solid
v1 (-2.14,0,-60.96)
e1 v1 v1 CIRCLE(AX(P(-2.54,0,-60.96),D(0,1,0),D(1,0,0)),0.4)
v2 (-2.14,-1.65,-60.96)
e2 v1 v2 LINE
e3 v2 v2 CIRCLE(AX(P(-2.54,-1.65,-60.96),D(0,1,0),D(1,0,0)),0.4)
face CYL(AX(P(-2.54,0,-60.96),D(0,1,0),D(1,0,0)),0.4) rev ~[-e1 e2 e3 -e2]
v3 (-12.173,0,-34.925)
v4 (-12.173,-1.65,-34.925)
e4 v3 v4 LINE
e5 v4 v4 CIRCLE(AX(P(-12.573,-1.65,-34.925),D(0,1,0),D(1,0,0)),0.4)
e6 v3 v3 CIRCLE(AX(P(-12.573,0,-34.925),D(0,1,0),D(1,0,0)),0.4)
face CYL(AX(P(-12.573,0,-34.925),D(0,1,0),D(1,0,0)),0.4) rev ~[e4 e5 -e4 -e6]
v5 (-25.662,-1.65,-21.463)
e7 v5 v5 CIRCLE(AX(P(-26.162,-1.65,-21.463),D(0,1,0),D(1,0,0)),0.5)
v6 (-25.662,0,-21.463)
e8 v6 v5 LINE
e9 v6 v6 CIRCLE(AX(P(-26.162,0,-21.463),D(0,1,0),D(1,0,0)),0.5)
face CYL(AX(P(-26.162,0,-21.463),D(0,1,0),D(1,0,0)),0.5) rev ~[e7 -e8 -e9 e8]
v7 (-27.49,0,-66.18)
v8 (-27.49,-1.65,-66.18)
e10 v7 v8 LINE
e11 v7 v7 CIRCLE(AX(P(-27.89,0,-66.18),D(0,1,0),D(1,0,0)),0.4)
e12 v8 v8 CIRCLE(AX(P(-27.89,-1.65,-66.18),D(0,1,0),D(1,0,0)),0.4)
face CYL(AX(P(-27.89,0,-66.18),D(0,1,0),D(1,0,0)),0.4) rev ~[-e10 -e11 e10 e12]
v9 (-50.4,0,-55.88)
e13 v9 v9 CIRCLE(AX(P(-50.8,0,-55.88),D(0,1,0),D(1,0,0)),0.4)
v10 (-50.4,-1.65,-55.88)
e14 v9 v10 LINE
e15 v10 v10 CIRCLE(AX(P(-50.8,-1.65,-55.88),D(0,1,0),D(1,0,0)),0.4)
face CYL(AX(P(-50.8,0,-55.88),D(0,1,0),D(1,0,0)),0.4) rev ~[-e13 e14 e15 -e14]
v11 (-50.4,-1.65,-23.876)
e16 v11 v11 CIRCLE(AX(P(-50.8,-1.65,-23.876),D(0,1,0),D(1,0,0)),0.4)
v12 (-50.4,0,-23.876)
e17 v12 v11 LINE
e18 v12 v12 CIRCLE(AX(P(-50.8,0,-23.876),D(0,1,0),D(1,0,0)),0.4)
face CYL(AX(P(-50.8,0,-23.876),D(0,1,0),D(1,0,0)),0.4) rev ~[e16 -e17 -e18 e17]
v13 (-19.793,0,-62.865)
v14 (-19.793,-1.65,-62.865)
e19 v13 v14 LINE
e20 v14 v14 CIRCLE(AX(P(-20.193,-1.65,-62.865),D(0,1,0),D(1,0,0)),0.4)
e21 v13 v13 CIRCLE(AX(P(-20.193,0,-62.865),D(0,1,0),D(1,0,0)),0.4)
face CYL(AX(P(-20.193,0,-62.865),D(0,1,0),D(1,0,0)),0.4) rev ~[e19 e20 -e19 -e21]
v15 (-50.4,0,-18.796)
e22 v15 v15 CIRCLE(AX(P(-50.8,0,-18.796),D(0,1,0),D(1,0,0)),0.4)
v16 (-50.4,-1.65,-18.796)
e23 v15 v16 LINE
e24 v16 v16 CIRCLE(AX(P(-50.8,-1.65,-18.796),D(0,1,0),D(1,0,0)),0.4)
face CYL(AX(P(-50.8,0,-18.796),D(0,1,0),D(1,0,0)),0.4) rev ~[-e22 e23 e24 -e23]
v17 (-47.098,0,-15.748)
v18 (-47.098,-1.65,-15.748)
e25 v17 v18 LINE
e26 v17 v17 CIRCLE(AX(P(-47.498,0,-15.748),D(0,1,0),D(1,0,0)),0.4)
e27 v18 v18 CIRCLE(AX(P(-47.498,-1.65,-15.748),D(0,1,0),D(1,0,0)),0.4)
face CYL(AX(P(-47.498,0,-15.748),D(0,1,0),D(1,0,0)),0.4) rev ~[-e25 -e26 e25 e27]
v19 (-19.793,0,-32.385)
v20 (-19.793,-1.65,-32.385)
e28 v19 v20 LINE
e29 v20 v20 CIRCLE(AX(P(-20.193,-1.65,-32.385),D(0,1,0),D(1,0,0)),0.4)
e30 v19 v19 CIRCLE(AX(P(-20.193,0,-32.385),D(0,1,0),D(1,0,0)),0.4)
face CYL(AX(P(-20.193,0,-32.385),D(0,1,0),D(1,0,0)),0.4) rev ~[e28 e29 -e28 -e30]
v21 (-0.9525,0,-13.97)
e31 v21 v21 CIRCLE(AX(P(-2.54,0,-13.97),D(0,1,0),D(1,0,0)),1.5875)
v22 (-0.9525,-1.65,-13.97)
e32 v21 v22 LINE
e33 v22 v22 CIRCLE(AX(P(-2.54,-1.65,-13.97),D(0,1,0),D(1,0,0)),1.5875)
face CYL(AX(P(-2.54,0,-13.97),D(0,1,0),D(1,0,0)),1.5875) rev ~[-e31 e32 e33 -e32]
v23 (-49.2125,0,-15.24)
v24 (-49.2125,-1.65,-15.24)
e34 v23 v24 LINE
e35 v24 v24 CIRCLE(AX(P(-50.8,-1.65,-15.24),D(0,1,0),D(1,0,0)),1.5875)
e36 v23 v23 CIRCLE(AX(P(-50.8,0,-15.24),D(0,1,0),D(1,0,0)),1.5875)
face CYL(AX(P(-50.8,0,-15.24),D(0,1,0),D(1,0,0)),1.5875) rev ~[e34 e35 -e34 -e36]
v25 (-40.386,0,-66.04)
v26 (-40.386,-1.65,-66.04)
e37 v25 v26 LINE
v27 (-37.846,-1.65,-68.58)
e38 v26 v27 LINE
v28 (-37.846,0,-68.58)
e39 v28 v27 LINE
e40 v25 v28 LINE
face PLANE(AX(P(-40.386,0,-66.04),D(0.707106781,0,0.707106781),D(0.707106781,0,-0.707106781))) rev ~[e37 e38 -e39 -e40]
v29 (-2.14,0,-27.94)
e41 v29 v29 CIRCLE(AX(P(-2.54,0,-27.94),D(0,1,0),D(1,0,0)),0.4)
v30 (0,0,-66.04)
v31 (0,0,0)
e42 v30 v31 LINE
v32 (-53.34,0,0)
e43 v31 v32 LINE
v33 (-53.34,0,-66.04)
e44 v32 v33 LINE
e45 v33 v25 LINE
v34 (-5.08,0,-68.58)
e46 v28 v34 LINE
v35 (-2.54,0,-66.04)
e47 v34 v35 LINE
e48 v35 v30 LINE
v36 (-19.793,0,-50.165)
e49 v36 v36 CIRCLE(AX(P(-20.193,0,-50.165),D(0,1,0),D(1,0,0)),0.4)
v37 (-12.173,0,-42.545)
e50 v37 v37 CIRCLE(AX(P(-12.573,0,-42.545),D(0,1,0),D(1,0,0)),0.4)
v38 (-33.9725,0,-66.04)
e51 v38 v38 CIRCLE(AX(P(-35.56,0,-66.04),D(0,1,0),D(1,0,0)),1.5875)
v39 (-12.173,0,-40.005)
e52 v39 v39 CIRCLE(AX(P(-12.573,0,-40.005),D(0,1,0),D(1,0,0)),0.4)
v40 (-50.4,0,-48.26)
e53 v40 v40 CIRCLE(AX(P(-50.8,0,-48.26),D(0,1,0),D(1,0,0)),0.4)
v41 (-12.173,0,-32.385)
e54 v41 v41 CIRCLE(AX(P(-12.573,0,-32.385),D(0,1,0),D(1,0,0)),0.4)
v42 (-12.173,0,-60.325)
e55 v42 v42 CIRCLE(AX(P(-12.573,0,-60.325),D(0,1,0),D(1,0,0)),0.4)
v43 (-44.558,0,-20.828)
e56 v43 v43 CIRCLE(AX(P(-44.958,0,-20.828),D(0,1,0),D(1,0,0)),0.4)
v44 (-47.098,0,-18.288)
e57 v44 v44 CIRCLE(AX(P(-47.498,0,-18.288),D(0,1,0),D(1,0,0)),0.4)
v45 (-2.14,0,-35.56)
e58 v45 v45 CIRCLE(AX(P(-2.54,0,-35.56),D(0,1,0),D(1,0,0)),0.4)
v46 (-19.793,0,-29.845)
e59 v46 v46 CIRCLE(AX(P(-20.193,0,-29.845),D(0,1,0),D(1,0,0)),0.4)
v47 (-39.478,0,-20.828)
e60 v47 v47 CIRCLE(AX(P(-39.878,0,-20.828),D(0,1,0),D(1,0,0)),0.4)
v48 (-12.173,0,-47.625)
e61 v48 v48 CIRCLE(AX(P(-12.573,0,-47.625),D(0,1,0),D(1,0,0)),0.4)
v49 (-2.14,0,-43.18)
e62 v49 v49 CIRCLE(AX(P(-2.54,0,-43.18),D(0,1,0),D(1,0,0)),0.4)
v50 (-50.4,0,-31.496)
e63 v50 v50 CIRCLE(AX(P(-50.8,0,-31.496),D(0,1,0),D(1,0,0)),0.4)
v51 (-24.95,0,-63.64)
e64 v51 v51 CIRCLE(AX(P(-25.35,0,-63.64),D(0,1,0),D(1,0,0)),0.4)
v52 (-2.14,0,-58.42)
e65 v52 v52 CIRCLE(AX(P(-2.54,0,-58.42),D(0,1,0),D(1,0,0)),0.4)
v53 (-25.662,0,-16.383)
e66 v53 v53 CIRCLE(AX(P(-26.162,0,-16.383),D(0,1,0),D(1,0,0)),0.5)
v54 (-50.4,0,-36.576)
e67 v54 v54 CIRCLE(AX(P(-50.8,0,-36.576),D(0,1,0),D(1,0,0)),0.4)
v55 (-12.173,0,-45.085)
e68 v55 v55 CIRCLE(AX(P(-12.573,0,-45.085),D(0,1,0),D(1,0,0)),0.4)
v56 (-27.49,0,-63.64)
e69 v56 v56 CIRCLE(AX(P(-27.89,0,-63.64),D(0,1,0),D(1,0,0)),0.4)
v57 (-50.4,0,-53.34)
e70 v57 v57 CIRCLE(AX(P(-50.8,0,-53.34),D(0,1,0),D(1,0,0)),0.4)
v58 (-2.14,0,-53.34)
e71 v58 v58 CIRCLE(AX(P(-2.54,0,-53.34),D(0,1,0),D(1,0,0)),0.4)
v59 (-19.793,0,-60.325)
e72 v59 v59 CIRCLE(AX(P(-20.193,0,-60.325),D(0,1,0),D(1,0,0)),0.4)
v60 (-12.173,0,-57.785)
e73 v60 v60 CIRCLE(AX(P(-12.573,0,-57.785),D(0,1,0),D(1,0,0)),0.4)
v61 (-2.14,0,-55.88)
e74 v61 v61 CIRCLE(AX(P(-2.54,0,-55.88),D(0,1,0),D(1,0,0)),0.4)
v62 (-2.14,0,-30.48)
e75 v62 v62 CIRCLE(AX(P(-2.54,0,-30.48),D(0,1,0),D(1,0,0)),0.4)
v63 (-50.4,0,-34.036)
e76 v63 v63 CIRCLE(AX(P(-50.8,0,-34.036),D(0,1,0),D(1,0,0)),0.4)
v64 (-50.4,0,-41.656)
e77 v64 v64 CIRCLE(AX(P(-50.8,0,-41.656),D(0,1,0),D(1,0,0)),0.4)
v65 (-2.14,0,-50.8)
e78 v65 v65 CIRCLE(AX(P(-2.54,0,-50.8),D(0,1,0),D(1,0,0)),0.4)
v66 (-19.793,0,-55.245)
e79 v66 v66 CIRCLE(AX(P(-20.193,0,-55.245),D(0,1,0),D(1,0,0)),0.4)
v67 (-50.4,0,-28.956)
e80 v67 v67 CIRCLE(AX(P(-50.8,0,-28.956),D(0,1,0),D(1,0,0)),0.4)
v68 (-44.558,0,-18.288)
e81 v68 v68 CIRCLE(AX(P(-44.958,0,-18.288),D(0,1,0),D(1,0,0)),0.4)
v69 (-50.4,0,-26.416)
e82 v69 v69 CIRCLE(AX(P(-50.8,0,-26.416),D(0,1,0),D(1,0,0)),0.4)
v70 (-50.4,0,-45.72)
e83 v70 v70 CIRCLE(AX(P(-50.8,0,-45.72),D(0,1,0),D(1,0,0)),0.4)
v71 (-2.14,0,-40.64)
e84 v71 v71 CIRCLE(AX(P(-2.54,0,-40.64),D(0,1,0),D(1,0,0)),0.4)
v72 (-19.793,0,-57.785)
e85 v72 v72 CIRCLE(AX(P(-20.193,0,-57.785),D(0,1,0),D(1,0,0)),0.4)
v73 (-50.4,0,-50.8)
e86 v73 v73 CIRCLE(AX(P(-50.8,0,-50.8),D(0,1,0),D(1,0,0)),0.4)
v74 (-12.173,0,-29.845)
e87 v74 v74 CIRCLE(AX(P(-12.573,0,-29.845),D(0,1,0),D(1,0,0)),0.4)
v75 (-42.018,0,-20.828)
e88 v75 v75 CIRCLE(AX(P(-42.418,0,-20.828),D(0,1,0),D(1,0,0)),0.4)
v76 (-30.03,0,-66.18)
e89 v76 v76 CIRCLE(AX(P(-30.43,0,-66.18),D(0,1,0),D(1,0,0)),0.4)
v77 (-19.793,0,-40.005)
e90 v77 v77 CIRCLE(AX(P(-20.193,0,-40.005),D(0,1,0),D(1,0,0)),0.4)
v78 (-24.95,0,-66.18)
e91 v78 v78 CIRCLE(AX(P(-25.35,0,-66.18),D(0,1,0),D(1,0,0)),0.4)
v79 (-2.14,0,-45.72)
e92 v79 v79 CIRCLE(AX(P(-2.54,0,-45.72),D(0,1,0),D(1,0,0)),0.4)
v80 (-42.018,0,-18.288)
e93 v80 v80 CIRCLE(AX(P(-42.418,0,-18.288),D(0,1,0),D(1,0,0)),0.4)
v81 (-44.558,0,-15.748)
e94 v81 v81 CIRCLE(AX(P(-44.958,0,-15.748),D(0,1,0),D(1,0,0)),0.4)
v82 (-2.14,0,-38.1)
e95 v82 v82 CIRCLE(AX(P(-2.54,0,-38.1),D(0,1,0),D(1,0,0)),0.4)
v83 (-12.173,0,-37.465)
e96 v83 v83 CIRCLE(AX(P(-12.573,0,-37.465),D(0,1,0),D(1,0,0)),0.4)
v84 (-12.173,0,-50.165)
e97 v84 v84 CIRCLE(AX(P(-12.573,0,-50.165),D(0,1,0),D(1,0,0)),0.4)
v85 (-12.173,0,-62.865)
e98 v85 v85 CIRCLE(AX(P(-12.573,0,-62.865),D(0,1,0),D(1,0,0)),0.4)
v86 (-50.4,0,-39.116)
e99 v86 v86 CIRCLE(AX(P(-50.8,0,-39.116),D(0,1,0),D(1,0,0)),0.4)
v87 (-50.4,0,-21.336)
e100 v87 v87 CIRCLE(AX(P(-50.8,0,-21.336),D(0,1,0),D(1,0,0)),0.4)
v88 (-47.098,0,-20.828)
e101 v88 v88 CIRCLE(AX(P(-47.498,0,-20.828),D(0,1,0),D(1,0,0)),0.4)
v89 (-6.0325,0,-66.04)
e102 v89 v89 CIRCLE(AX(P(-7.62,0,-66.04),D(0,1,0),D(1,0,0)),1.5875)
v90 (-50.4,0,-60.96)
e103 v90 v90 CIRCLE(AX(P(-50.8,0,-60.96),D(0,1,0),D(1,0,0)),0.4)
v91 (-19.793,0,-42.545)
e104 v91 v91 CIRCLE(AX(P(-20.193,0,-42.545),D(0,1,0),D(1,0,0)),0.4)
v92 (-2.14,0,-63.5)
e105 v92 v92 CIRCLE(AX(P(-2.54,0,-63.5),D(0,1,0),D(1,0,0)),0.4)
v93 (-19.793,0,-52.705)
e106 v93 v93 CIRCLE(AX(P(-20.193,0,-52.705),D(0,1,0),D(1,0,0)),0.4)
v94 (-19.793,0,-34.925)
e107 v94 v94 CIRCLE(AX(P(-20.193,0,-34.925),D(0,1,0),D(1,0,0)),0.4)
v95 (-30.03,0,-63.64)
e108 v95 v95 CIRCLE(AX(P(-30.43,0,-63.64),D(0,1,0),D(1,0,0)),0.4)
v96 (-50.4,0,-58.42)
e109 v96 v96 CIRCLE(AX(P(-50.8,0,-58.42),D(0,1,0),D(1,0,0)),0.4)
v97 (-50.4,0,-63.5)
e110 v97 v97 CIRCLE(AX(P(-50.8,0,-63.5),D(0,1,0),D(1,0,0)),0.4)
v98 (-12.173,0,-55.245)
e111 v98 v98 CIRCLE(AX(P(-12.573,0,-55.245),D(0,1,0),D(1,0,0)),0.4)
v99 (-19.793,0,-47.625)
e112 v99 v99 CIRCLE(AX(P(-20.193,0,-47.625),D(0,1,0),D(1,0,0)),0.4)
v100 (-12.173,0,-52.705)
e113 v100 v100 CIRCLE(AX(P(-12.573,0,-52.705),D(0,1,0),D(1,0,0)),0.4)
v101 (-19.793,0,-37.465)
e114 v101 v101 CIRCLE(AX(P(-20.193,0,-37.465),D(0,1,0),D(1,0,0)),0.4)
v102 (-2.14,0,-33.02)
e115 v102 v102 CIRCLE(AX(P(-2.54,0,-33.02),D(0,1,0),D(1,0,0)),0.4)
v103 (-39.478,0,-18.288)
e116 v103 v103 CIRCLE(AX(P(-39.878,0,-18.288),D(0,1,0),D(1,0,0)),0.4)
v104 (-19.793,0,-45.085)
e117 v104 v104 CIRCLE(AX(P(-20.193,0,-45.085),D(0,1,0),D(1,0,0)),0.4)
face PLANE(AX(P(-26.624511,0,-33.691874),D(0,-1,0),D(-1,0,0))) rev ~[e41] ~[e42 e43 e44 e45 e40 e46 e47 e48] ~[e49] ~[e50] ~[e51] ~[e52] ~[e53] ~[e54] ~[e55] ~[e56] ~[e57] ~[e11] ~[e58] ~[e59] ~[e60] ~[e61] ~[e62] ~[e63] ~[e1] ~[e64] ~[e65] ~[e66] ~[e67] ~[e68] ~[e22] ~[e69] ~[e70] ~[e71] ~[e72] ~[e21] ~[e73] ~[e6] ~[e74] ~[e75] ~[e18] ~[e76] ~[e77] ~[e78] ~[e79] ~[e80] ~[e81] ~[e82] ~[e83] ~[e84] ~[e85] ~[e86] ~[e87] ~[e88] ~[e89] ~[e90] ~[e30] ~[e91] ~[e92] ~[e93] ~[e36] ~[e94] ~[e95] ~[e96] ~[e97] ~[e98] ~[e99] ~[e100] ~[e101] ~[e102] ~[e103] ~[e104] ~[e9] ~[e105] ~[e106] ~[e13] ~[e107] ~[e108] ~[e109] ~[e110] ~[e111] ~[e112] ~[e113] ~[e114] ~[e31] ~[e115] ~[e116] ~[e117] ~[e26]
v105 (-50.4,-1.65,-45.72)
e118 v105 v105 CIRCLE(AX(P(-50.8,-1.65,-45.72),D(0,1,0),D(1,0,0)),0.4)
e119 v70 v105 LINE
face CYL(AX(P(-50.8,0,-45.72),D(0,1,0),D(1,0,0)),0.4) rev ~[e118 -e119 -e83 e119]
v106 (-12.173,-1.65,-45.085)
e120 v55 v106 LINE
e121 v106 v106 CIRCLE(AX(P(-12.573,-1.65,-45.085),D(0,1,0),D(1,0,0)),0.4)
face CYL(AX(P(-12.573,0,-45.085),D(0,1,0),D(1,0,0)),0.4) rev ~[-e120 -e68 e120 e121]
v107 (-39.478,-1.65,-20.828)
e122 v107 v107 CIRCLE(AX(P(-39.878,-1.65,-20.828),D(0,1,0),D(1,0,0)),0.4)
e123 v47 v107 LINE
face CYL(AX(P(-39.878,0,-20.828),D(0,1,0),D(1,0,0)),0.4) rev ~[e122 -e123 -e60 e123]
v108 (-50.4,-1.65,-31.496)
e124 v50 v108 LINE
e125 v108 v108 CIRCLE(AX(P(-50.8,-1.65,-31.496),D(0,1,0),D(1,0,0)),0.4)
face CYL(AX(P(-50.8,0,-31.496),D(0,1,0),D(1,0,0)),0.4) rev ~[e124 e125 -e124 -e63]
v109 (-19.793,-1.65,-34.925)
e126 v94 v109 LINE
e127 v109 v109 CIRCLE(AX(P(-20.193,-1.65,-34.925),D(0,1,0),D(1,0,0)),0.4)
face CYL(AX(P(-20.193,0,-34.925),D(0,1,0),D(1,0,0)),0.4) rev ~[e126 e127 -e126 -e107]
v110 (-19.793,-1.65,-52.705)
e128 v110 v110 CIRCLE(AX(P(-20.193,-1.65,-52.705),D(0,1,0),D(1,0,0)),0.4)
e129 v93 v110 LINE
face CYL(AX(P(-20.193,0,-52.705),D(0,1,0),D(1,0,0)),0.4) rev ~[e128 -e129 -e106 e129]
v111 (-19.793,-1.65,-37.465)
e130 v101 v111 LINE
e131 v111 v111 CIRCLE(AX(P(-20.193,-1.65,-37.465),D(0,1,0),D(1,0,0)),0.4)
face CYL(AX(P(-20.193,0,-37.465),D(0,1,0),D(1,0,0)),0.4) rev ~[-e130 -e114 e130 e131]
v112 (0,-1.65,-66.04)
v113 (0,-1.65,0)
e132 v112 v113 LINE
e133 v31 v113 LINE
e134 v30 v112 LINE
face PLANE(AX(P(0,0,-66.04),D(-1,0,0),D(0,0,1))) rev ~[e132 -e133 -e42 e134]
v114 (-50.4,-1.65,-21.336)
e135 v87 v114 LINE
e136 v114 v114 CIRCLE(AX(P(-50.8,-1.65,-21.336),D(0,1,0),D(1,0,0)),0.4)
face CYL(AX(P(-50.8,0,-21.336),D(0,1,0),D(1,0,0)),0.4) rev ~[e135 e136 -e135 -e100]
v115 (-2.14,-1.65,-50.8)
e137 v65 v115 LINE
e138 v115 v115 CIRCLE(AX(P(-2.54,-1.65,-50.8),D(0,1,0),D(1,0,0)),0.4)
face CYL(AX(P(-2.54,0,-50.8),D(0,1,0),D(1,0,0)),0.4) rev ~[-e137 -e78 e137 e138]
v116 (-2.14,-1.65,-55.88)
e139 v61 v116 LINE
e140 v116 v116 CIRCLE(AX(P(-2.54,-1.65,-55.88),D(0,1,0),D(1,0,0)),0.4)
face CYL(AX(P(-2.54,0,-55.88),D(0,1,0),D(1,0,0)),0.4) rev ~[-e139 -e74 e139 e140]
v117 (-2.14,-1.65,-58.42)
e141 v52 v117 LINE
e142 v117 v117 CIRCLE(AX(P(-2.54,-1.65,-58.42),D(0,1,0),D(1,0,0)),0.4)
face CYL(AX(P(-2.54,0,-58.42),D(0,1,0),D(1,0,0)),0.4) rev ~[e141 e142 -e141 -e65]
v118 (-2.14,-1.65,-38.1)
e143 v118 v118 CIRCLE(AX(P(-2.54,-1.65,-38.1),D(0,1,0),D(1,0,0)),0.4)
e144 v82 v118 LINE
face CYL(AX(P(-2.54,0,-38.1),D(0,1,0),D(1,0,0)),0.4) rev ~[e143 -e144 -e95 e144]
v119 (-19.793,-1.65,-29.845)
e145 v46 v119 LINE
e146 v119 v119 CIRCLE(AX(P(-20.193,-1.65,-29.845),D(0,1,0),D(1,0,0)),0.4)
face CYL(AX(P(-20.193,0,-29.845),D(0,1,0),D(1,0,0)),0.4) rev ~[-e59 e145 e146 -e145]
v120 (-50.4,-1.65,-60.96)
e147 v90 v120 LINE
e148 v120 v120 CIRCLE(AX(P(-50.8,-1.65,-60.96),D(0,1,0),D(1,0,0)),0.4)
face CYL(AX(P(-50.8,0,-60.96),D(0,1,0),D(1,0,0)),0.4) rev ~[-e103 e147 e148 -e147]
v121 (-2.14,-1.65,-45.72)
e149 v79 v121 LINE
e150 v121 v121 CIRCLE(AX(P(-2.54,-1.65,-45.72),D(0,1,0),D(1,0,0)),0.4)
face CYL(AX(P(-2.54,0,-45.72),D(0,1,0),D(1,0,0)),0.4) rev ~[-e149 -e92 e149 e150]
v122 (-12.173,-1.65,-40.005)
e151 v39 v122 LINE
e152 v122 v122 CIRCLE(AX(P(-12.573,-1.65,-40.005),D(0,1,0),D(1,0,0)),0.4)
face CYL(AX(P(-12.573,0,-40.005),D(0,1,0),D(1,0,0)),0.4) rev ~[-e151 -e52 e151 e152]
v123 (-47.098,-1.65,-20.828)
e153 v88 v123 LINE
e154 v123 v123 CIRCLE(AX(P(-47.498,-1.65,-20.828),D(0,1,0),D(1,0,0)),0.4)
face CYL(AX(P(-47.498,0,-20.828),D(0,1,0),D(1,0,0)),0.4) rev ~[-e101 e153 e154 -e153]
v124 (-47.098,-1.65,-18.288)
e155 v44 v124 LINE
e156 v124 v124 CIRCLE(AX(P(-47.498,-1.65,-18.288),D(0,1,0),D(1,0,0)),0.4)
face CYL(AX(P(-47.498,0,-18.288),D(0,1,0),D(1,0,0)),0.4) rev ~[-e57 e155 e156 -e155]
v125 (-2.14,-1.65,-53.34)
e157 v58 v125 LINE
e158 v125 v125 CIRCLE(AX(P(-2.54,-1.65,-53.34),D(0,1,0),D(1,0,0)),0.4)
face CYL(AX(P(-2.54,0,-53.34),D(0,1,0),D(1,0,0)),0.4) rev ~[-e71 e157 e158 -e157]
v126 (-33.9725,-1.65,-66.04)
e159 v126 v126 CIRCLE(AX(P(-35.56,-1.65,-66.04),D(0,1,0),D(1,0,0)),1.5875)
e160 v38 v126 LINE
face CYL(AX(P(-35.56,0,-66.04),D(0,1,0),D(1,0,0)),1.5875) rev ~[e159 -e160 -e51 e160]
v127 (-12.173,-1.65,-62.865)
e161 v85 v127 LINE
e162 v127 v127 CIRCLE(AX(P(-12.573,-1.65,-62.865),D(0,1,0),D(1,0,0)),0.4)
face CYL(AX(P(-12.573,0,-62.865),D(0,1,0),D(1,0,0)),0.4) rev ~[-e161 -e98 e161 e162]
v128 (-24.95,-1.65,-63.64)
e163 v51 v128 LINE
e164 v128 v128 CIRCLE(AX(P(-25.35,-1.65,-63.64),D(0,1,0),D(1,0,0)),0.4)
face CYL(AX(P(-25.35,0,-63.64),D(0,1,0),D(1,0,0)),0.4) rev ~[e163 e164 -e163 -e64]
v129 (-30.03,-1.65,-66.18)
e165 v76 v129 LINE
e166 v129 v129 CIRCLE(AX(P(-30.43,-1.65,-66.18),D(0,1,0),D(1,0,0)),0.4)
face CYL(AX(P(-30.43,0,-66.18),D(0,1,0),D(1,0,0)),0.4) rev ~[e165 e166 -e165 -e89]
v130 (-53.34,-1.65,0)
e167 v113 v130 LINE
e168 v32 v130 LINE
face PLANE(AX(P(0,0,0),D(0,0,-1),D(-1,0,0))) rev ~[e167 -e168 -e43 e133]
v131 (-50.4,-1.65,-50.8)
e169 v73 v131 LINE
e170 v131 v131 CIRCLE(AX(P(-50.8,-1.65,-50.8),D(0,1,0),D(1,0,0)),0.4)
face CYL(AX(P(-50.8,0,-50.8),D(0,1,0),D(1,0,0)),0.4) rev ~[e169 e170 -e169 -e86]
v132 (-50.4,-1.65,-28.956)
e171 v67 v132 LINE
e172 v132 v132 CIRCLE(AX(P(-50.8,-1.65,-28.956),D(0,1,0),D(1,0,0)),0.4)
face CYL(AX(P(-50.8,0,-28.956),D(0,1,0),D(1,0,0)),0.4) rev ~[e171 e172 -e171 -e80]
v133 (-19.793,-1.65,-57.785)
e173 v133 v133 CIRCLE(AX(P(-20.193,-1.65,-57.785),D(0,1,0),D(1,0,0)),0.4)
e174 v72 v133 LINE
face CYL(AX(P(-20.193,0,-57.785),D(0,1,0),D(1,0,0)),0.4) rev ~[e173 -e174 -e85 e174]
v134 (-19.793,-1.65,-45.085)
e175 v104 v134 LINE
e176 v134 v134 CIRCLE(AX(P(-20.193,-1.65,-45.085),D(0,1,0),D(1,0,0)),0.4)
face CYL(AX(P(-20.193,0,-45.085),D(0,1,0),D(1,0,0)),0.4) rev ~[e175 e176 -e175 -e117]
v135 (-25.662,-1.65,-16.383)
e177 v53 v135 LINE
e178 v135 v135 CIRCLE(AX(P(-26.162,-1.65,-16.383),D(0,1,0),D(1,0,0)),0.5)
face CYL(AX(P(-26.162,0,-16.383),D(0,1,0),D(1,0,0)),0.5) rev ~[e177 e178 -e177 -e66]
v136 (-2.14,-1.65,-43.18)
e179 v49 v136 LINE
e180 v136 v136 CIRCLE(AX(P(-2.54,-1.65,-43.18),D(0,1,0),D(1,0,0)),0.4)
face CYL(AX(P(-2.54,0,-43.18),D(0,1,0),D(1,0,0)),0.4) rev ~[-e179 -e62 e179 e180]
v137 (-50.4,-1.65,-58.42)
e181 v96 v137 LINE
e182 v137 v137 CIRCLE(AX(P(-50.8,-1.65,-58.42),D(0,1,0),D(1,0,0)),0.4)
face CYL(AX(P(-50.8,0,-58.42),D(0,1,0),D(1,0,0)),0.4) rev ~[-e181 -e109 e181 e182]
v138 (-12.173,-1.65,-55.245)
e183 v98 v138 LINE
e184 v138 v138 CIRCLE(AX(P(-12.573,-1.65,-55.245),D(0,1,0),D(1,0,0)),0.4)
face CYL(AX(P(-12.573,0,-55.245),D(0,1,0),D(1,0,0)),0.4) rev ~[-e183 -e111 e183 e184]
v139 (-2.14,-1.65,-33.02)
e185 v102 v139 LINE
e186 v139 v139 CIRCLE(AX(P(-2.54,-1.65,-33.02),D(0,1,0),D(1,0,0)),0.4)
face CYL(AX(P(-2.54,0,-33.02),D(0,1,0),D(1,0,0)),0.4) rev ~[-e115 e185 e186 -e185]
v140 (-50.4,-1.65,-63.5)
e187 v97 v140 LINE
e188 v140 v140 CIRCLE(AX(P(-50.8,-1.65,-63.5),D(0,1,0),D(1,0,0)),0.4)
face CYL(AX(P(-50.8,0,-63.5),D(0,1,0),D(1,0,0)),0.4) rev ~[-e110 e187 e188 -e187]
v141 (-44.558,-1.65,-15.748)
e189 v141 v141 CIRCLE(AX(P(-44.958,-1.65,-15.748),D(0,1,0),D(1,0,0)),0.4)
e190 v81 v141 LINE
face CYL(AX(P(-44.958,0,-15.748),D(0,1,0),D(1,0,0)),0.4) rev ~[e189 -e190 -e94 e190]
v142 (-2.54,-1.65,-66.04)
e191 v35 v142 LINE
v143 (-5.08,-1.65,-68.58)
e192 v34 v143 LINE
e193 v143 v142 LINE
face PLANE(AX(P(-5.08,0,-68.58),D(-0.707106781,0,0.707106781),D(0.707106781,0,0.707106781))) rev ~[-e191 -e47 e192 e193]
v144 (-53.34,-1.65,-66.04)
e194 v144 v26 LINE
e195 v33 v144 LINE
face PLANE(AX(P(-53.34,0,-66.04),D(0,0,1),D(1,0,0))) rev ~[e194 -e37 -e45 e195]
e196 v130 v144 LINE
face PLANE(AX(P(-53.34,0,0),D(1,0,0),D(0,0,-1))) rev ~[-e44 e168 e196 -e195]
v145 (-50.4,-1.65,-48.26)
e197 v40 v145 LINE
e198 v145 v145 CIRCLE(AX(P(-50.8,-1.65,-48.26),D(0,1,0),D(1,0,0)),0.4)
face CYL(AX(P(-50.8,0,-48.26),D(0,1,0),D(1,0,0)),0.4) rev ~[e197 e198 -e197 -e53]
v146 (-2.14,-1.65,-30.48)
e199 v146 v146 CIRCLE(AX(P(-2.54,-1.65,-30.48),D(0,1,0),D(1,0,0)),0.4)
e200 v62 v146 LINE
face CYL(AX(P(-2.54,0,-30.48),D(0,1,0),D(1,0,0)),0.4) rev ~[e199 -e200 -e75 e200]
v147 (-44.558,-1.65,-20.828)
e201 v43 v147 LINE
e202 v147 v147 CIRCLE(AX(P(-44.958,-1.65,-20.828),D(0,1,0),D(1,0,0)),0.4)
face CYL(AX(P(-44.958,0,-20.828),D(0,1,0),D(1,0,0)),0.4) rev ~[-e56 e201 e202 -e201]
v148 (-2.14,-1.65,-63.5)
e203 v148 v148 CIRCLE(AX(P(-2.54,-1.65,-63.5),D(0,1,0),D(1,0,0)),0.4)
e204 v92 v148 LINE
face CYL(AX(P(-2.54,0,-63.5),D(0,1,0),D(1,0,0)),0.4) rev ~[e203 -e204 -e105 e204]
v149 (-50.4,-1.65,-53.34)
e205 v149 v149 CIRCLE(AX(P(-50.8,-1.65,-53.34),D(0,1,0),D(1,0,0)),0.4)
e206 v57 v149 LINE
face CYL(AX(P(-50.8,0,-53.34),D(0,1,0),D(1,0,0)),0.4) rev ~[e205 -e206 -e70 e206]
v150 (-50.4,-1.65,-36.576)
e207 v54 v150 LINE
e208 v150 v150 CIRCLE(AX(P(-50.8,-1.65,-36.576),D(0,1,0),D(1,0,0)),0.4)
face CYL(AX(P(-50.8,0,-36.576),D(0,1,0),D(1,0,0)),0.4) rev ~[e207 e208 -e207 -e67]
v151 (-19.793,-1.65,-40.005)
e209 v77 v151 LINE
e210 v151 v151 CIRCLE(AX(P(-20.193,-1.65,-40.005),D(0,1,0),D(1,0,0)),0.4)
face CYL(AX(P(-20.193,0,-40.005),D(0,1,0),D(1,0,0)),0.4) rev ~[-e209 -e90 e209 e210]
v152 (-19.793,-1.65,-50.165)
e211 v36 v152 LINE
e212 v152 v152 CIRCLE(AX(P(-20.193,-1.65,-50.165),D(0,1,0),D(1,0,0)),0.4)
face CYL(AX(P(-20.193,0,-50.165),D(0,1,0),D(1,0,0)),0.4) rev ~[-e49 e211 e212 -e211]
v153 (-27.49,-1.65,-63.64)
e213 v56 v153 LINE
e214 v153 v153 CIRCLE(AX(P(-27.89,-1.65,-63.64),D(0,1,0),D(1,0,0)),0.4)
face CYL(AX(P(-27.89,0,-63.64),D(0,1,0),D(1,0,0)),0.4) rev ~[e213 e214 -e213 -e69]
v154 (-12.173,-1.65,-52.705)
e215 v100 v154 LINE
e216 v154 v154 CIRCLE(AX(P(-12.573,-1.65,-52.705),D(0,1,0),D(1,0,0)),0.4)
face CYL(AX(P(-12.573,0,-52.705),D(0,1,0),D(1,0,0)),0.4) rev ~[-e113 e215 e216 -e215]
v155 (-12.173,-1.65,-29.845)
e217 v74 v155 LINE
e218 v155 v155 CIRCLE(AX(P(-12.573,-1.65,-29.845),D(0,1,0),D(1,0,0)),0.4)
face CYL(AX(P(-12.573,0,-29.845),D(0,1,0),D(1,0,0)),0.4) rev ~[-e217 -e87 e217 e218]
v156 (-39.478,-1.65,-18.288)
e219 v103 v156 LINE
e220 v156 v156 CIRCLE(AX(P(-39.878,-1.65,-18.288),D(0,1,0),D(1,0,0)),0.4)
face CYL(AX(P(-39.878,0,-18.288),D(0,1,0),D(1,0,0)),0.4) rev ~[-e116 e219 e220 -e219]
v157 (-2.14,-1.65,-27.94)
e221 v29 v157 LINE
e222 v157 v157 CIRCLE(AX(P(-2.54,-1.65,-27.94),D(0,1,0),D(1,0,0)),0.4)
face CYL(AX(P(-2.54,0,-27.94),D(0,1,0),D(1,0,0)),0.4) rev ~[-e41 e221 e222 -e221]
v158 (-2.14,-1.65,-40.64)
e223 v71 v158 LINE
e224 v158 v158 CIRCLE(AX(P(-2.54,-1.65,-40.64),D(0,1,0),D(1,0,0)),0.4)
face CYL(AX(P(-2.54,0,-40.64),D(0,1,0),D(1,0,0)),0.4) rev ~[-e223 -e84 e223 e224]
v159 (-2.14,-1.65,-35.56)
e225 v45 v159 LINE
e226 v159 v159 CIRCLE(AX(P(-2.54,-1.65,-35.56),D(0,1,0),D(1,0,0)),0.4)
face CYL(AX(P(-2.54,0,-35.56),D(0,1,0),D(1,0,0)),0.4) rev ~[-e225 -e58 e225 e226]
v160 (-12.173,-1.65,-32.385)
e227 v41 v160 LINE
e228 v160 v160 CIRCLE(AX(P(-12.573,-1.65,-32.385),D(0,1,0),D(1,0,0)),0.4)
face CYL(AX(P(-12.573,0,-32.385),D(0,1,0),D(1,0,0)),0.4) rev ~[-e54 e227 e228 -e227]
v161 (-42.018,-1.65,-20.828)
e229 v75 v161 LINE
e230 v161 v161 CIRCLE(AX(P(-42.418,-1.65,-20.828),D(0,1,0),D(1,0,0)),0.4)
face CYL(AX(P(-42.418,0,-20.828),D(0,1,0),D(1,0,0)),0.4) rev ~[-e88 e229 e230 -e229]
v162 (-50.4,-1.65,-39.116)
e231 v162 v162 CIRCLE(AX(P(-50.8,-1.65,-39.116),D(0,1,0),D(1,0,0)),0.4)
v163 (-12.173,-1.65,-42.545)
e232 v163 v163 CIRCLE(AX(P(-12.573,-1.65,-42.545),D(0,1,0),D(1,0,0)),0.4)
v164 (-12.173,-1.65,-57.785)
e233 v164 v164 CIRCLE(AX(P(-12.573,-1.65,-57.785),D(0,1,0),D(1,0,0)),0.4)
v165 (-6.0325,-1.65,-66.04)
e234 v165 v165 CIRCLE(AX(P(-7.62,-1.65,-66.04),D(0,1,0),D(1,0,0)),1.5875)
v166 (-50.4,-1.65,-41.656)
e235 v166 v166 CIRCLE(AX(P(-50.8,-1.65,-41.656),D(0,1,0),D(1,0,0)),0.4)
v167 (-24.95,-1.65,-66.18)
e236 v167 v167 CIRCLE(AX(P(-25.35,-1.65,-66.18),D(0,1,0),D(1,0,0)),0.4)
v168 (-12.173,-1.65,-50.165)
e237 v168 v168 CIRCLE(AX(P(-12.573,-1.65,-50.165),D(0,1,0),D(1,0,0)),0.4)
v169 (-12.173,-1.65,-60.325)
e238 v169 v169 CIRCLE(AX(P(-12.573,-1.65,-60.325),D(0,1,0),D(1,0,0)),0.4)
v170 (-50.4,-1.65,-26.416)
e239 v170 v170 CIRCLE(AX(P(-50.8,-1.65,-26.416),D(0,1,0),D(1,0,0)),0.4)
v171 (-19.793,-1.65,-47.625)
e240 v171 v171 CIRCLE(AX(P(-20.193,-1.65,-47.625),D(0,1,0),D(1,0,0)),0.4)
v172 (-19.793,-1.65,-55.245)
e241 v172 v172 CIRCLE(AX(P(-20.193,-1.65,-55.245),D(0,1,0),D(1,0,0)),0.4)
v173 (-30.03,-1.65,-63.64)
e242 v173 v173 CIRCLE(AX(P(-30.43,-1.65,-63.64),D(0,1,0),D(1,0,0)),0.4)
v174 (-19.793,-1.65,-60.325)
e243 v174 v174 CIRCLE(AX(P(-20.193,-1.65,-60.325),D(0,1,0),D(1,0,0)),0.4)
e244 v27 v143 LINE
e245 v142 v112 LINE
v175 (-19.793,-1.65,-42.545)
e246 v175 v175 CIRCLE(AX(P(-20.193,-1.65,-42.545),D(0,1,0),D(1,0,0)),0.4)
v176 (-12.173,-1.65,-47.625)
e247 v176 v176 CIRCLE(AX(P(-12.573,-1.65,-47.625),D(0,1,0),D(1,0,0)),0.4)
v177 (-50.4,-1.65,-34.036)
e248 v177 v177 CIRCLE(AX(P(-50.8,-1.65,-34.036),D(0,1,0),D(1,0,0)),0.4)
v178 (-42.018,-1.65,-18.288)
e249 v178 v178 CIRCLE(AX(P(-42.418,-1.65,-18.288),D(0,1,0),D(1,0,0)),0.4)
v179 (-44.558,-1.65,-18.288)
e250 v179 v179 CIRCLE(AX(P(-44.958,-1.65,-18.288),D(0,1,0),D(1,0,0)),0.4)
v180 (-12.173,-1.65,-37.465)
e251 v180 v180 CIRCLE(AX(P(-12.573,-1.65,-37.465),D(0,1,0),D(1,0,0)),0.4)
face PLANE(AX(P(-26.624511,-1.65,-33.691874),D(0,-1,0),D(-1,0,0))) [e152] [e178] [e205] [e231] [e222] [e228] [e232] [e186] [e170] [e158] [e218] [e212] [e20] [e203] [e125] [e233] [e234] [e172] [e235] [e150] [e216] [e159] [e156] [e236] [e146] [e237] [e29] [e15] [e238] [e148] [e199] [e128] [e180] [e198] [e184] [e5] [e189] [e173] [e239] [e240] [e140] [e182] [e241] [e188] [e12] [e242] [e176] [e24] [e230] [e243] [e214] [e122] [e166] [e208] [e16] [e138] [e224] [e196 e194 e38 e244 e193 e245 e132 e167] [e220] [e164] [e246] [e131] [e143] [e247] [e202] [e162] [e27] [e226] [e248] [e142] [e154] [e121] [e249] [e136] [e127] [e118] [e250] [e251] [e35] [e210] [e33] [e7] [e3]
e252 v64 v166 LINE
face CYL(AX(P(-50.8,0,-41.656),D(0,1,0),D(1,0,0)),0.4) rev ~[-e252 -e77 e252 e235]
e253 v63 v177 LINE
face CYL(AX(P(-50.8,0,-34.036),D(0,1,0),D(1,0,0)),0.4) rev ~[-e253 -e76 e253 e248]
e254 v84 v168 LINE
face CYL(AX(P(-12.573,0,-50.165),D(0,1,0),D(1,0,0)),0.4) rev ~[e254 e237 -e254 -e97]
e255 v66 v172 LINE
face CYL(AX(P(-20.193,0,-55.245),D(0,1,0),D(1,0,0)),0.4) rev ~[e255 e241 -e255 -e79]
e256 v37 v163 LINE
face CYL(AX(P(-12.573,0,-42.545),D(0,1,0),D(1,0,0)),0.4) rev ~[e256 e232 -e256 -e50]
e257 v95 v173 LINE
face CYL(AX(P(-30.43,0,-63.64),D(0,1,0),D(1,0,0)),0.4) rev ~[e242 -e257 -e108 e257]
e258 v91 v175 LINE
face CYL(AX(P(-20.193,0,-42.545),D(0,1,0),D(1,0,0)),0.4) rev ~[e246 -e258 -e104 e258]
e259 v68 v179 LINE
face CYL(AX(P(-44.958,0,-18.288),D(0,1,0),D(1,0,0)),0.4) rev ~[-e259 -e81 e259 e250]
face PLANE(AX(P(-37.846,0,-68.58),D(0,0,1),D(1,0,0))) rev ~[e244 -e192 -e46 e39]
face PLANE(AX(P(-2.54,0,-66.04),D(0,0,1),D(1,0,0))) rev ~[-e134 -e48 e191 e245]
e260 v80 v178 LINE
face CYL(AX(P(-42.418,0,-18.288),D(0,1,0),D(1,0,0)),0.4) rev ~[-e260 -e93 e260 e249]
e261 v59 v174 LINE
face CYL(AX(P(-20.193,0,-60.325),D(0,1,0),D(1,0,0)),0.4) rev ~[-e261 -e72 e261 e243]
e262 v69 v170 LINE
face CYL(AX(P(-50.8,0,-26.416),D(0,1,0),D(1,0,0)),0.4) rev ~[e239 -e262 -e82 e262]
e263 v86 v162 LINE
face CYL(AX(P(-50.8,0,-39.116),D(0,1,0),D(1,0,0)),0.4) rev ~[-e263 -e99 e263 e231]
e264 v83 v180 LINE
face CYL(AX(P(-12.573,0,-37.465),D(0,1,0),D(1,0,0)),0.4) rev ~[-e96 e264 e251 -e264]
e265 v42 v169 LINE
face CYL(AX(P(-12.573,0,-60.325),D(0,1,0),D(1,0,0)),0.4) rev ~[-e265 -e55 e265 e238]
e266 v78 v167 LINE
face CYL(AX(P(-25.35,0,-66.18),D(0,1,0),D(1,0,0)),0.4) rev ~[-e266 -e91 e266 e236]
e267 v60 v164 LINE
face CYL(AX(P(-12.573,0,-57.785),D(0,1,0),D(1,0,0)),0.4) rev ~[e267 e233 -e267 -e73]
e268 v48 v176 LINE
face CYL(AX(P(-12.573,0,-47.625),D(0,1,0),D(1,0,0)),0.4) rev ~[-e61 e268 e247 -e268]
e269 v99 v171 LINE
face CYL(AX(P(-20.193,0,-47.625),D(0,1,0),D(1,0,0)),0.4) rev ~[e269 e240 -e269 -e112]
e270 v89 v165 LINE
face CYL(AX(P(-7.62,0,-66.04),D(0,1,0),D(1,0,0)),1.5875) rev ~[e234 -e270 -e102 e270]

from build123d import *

# Parameters (mm, degrees)
SKETCH1_R           = 1.5875
BOSS_EXTRUDE1_DEPTH = 1.65
SKETCH2_R           = 0.4
CUT_EXTRUDE1_DEPTH  = 1.65
SKETCH3_R           = 0.4
CUT_EXTRUDE2_DEPTH  = 1.65
LPATTERN1_COUNT     = 15
LPATTERN1_PITCH     = 2.54
SKETCH4_R           = 0.4
CUT_EXTRUDE3_DEPTH  = 1.65
LPATTERN2_COUNT     = 10
LPATTERN2_PITCH     = 2.54
LPATTERN3_COUNT     = 8
LPATTERN3_PITCH     = 2.54
SKETCH5_R           = 0.4
SKETCH5_R_2         = 0.5
CUT_EXTRUDE4_DEPTH  = 10
SKETCH6_R           = 0.4
CUT_EXTRUDE5_DEPTH  = 10


with BuildPart() as part:
    # Sketch1 → Boss-Extrude1 (new body)
    with BuildSketch(Plane(origin=(0, 0, 0), x_dir=(1, 0, 0), z_dir=(0, 1, 0))):
        Polygon((0, 0), (-53.34, 0), (-53.34, 66.04), (-40.386, 66.04), (-37.846, 68.58), (-5.08, 68.58), (-2.54, 66.04), (0, 66.04), align=None)
        with Locations((-7.62, 66.04)):
            Circle(SKETCH1_R, mode=Mode.SUBTRACT)
        with Locations((-35.56, 66.04)):
            Circle(SKETCH1_R, mode=Mode.SUBTRACT)
        with Locations((-2.54, 13.97)):
            Circle(SKETCH1_R, mode=Mode.SUBTRACT)
        with Locations((-50.8, 15.24)):
            Circle(SKETCH1_R, mode=Mode.SUBTRACT)
    extrude(amount=-BOSS_EXTRUDE1_DEPTH)

    # Sketch2 → Cut-Extrude1 (cut)
    with BuildSketch(Plane(origin=(0, 0, 0), x_dir=(1, 0, 0), z_dir=(0, 1, 0))):
        with Locations((-2.54, 27.94)):
            Circle(SKETCH2_R)
    cut_extrude1 = extrude(amount=-CUT_EXTRUDE1_DEPTH, mode=Mode.SUBTRACT)

    # Sketch3 → Cut-Extrude2 (cut)
    with BuildSketch(Plane(origin=(0, 0, 0), x_dir=(1, 0, 0), z_dir=(0, 1, 0))):
        with Locations((-50.8, 18.796)):
            Circle(SKETCH3_R)
    cut_extrude2 = extrude(amount=-CUT_EXTRUDE2_DEPTH, mode=Mode.SUBTRACT)

    # LPattern1: Cut-Extrude1 ×15, 1 skipped
    with Locations(*[(0, 0, -i * LPATTERN1_PITCH) for i in range(1, LPATTERN1_COUNT) if i not in (8,)]):
        add(cut_extrude1, mode=Mode.SUBTRACT)

    # Sketch4 → Cut-Extrude3 (cut)
    with BuildSketch(Plane(origin=(0, 0, 0), x_dir=(1, 0, 0), z_dir=(0, 1, 0))):
        with Locations((-50.8, 45.72)):
            Circle(SKETCH4_R)
    cut_extrude3 = extrude(amount=-CUT_EXTRUDE3_DEPTH, mode=Mode.SUBTRACT)

    # LPattern2: Cut-Extrude2 ×10
    with Locations(*[(0, 0, -i * LPATTERN2_PITCH) for i in range(1, LPATTERN2_COUNT)]):
        add(cut_extrude2, mode=Mode.SUBTRACT)

    # LPattern3: Cut-Extrude3 ×8
    with Locations(*[(0, 0, -i * LPATTERN3_PITCH) for i in range(1, LPATTERN3_COUNT)]):
        add(cut_extrude3, mode=Mode.SUBTRACT)

    # Sketch5 → Cut-Extrude4 (cut)
    with BuildSketch(Plane(origin=(0, 0, 0), x_dir=(1, 0, 0), z_dir=(0, 1, 0))):
        with Locations((-30.43, 66.18)):
            Circle(SKETCH5_R)
        with Locations((-27.89, 66.18)):
            Circle(SKETCH5_R)
        with Locations((-25.35, 66.18)):
            Circle(SKETCH5_R)
        with Locations((-25.35, 63.64)):
            Circle(SKETCH5_R)
        with Locations((-27.89, 63.64)):
            Circle(SKETCH5_R)
        with Locations((-30.43, 63.64)):
            Circle(SKETCH5_R)
        with Locations((-47.498, 15.748)):
            Circle(SKETCH5_R)
        with Locations((-47.498, 18.288)):
            Circle(SKETCH5_R)
        with Locations((-47.498, 20.828)):
            Circle(SKETCH5_R)
        with Locations((-44.958, 20.828)):
            Circle(SKETCH5_R)
        with Locations((-44.958, 18.288)):
            Circle(SKETCH5_R)
        with Locations((-44.958, 15.748)):
            Circle(SKETCH5_R)
        with Locations((-42.418, 18.288)):
            Circle(SKETCH5_R)
        with Locations((-42.418, 20.828)):
            Circle(SKETCH5_R)
        with Locations((-39.878, 20.828)):
            Circle(SKETCH5_R)
        with Locations((-39.878, 18.288)):
            Circle(SKETCH5_R)
        with Locations((-26.162, 21.463)):
            Circle(SKETCH5_R_2)
        with Locations((-26.162, 16.383)):
            Circle(SKETCH5_R_2)
    extrude(amount=-CUT_EXTRUDE4_DEPTH, mode=Mode.SUBTRACT)

    # Sketch6 → Cut-Extrude5 (cut)
    with BuildSketch(Plane(origin=(0, 0, 0), x_dir=(1, 0, 0), z_dir=(0, 1, 0))):
        with Locations((-20.193, 29.845)):
            Circle(SKETCH6_R)
        with Locations((-12.573, 29.845)):
            Circle(SKETCH6_R)
        with Locations((-20.193, 32.385)):
            Circle(SKETCH6_R)
        with Locations((-12.573, 32.385)):
            Circle(SKETCH6_R)
        with Locations((-20.193, 34.925)):
            Circle(SKETCH6_R)
        with Locations((-12.573, 34.925)):
            Circle(SKETCH6_R)
        with Locations((-20.193, 37.465)):
            Circle(SKETCH6_R)
        with Locations((-12.573, 37.465)):
            Circle(SKETCH6_R)
        with Locations((-20.193, 40.005)):
            Circle(SKETCH6_R)
        with Locations((-12.573, 40.005)):
            Circle(SKETCH6_R)
        with Locations((-20.193, 42.545)):
            Circle(SKETCH6_R)
        with Locations((-12.573, 42.545)):
            Circle(SKETCH6_R)
        with Locations((-20.193, 45.085)):
            Circle(SKETCH6_R)
        with Locations((-12.573, 45.085)):
            Circle(SKETCH6_R)
        with Locations((-20.193, 47.625)):
            Circle(SKETCH6_R)
        with Locations((-12.573, 47.625)):
            Circle(SKETCH6_R)
        with Locations((-20.193, 50.165)):
            Circle(SKETCH6_R)
        with Locations((-12.573, 50.165)):
            Circle(SKETCH6_R)
        with Locations((-20.193, 52.705)):
            Circle(SKETCH6_R)
        with Locations((-12.573, 52.705)):
            Circle(SKETCH6_R)
        with Locations((-20.193, 55.245)):
            Circle(SKETCH6_R)
        with Locations((-12.573, 55.245)):
            Circle(SKETCH6_R)
        with Locations((-20.193, 57.785)):
            Circle(SKETCH6_R)
        with Locations((-12.573, 57.785)):
            Circle(SKETCH6_R)
        with Locations((-20.193, 60.325)):
            Circle(SKETCH6_R)
        with Locations((-12.573, 60.325)):
            Circle(SKETCH6_R)
        with Locations((-20.193, 62.865)):
            Circle(SKETCH6_R)
        with Locations((-12.573, 62.865)):
            Circle(SKETCH6_R)
    extrude(amount=-CUT_EXTRUDE5_DEPTH, mode=Mode.SUBTRACT)


solid = part.part
